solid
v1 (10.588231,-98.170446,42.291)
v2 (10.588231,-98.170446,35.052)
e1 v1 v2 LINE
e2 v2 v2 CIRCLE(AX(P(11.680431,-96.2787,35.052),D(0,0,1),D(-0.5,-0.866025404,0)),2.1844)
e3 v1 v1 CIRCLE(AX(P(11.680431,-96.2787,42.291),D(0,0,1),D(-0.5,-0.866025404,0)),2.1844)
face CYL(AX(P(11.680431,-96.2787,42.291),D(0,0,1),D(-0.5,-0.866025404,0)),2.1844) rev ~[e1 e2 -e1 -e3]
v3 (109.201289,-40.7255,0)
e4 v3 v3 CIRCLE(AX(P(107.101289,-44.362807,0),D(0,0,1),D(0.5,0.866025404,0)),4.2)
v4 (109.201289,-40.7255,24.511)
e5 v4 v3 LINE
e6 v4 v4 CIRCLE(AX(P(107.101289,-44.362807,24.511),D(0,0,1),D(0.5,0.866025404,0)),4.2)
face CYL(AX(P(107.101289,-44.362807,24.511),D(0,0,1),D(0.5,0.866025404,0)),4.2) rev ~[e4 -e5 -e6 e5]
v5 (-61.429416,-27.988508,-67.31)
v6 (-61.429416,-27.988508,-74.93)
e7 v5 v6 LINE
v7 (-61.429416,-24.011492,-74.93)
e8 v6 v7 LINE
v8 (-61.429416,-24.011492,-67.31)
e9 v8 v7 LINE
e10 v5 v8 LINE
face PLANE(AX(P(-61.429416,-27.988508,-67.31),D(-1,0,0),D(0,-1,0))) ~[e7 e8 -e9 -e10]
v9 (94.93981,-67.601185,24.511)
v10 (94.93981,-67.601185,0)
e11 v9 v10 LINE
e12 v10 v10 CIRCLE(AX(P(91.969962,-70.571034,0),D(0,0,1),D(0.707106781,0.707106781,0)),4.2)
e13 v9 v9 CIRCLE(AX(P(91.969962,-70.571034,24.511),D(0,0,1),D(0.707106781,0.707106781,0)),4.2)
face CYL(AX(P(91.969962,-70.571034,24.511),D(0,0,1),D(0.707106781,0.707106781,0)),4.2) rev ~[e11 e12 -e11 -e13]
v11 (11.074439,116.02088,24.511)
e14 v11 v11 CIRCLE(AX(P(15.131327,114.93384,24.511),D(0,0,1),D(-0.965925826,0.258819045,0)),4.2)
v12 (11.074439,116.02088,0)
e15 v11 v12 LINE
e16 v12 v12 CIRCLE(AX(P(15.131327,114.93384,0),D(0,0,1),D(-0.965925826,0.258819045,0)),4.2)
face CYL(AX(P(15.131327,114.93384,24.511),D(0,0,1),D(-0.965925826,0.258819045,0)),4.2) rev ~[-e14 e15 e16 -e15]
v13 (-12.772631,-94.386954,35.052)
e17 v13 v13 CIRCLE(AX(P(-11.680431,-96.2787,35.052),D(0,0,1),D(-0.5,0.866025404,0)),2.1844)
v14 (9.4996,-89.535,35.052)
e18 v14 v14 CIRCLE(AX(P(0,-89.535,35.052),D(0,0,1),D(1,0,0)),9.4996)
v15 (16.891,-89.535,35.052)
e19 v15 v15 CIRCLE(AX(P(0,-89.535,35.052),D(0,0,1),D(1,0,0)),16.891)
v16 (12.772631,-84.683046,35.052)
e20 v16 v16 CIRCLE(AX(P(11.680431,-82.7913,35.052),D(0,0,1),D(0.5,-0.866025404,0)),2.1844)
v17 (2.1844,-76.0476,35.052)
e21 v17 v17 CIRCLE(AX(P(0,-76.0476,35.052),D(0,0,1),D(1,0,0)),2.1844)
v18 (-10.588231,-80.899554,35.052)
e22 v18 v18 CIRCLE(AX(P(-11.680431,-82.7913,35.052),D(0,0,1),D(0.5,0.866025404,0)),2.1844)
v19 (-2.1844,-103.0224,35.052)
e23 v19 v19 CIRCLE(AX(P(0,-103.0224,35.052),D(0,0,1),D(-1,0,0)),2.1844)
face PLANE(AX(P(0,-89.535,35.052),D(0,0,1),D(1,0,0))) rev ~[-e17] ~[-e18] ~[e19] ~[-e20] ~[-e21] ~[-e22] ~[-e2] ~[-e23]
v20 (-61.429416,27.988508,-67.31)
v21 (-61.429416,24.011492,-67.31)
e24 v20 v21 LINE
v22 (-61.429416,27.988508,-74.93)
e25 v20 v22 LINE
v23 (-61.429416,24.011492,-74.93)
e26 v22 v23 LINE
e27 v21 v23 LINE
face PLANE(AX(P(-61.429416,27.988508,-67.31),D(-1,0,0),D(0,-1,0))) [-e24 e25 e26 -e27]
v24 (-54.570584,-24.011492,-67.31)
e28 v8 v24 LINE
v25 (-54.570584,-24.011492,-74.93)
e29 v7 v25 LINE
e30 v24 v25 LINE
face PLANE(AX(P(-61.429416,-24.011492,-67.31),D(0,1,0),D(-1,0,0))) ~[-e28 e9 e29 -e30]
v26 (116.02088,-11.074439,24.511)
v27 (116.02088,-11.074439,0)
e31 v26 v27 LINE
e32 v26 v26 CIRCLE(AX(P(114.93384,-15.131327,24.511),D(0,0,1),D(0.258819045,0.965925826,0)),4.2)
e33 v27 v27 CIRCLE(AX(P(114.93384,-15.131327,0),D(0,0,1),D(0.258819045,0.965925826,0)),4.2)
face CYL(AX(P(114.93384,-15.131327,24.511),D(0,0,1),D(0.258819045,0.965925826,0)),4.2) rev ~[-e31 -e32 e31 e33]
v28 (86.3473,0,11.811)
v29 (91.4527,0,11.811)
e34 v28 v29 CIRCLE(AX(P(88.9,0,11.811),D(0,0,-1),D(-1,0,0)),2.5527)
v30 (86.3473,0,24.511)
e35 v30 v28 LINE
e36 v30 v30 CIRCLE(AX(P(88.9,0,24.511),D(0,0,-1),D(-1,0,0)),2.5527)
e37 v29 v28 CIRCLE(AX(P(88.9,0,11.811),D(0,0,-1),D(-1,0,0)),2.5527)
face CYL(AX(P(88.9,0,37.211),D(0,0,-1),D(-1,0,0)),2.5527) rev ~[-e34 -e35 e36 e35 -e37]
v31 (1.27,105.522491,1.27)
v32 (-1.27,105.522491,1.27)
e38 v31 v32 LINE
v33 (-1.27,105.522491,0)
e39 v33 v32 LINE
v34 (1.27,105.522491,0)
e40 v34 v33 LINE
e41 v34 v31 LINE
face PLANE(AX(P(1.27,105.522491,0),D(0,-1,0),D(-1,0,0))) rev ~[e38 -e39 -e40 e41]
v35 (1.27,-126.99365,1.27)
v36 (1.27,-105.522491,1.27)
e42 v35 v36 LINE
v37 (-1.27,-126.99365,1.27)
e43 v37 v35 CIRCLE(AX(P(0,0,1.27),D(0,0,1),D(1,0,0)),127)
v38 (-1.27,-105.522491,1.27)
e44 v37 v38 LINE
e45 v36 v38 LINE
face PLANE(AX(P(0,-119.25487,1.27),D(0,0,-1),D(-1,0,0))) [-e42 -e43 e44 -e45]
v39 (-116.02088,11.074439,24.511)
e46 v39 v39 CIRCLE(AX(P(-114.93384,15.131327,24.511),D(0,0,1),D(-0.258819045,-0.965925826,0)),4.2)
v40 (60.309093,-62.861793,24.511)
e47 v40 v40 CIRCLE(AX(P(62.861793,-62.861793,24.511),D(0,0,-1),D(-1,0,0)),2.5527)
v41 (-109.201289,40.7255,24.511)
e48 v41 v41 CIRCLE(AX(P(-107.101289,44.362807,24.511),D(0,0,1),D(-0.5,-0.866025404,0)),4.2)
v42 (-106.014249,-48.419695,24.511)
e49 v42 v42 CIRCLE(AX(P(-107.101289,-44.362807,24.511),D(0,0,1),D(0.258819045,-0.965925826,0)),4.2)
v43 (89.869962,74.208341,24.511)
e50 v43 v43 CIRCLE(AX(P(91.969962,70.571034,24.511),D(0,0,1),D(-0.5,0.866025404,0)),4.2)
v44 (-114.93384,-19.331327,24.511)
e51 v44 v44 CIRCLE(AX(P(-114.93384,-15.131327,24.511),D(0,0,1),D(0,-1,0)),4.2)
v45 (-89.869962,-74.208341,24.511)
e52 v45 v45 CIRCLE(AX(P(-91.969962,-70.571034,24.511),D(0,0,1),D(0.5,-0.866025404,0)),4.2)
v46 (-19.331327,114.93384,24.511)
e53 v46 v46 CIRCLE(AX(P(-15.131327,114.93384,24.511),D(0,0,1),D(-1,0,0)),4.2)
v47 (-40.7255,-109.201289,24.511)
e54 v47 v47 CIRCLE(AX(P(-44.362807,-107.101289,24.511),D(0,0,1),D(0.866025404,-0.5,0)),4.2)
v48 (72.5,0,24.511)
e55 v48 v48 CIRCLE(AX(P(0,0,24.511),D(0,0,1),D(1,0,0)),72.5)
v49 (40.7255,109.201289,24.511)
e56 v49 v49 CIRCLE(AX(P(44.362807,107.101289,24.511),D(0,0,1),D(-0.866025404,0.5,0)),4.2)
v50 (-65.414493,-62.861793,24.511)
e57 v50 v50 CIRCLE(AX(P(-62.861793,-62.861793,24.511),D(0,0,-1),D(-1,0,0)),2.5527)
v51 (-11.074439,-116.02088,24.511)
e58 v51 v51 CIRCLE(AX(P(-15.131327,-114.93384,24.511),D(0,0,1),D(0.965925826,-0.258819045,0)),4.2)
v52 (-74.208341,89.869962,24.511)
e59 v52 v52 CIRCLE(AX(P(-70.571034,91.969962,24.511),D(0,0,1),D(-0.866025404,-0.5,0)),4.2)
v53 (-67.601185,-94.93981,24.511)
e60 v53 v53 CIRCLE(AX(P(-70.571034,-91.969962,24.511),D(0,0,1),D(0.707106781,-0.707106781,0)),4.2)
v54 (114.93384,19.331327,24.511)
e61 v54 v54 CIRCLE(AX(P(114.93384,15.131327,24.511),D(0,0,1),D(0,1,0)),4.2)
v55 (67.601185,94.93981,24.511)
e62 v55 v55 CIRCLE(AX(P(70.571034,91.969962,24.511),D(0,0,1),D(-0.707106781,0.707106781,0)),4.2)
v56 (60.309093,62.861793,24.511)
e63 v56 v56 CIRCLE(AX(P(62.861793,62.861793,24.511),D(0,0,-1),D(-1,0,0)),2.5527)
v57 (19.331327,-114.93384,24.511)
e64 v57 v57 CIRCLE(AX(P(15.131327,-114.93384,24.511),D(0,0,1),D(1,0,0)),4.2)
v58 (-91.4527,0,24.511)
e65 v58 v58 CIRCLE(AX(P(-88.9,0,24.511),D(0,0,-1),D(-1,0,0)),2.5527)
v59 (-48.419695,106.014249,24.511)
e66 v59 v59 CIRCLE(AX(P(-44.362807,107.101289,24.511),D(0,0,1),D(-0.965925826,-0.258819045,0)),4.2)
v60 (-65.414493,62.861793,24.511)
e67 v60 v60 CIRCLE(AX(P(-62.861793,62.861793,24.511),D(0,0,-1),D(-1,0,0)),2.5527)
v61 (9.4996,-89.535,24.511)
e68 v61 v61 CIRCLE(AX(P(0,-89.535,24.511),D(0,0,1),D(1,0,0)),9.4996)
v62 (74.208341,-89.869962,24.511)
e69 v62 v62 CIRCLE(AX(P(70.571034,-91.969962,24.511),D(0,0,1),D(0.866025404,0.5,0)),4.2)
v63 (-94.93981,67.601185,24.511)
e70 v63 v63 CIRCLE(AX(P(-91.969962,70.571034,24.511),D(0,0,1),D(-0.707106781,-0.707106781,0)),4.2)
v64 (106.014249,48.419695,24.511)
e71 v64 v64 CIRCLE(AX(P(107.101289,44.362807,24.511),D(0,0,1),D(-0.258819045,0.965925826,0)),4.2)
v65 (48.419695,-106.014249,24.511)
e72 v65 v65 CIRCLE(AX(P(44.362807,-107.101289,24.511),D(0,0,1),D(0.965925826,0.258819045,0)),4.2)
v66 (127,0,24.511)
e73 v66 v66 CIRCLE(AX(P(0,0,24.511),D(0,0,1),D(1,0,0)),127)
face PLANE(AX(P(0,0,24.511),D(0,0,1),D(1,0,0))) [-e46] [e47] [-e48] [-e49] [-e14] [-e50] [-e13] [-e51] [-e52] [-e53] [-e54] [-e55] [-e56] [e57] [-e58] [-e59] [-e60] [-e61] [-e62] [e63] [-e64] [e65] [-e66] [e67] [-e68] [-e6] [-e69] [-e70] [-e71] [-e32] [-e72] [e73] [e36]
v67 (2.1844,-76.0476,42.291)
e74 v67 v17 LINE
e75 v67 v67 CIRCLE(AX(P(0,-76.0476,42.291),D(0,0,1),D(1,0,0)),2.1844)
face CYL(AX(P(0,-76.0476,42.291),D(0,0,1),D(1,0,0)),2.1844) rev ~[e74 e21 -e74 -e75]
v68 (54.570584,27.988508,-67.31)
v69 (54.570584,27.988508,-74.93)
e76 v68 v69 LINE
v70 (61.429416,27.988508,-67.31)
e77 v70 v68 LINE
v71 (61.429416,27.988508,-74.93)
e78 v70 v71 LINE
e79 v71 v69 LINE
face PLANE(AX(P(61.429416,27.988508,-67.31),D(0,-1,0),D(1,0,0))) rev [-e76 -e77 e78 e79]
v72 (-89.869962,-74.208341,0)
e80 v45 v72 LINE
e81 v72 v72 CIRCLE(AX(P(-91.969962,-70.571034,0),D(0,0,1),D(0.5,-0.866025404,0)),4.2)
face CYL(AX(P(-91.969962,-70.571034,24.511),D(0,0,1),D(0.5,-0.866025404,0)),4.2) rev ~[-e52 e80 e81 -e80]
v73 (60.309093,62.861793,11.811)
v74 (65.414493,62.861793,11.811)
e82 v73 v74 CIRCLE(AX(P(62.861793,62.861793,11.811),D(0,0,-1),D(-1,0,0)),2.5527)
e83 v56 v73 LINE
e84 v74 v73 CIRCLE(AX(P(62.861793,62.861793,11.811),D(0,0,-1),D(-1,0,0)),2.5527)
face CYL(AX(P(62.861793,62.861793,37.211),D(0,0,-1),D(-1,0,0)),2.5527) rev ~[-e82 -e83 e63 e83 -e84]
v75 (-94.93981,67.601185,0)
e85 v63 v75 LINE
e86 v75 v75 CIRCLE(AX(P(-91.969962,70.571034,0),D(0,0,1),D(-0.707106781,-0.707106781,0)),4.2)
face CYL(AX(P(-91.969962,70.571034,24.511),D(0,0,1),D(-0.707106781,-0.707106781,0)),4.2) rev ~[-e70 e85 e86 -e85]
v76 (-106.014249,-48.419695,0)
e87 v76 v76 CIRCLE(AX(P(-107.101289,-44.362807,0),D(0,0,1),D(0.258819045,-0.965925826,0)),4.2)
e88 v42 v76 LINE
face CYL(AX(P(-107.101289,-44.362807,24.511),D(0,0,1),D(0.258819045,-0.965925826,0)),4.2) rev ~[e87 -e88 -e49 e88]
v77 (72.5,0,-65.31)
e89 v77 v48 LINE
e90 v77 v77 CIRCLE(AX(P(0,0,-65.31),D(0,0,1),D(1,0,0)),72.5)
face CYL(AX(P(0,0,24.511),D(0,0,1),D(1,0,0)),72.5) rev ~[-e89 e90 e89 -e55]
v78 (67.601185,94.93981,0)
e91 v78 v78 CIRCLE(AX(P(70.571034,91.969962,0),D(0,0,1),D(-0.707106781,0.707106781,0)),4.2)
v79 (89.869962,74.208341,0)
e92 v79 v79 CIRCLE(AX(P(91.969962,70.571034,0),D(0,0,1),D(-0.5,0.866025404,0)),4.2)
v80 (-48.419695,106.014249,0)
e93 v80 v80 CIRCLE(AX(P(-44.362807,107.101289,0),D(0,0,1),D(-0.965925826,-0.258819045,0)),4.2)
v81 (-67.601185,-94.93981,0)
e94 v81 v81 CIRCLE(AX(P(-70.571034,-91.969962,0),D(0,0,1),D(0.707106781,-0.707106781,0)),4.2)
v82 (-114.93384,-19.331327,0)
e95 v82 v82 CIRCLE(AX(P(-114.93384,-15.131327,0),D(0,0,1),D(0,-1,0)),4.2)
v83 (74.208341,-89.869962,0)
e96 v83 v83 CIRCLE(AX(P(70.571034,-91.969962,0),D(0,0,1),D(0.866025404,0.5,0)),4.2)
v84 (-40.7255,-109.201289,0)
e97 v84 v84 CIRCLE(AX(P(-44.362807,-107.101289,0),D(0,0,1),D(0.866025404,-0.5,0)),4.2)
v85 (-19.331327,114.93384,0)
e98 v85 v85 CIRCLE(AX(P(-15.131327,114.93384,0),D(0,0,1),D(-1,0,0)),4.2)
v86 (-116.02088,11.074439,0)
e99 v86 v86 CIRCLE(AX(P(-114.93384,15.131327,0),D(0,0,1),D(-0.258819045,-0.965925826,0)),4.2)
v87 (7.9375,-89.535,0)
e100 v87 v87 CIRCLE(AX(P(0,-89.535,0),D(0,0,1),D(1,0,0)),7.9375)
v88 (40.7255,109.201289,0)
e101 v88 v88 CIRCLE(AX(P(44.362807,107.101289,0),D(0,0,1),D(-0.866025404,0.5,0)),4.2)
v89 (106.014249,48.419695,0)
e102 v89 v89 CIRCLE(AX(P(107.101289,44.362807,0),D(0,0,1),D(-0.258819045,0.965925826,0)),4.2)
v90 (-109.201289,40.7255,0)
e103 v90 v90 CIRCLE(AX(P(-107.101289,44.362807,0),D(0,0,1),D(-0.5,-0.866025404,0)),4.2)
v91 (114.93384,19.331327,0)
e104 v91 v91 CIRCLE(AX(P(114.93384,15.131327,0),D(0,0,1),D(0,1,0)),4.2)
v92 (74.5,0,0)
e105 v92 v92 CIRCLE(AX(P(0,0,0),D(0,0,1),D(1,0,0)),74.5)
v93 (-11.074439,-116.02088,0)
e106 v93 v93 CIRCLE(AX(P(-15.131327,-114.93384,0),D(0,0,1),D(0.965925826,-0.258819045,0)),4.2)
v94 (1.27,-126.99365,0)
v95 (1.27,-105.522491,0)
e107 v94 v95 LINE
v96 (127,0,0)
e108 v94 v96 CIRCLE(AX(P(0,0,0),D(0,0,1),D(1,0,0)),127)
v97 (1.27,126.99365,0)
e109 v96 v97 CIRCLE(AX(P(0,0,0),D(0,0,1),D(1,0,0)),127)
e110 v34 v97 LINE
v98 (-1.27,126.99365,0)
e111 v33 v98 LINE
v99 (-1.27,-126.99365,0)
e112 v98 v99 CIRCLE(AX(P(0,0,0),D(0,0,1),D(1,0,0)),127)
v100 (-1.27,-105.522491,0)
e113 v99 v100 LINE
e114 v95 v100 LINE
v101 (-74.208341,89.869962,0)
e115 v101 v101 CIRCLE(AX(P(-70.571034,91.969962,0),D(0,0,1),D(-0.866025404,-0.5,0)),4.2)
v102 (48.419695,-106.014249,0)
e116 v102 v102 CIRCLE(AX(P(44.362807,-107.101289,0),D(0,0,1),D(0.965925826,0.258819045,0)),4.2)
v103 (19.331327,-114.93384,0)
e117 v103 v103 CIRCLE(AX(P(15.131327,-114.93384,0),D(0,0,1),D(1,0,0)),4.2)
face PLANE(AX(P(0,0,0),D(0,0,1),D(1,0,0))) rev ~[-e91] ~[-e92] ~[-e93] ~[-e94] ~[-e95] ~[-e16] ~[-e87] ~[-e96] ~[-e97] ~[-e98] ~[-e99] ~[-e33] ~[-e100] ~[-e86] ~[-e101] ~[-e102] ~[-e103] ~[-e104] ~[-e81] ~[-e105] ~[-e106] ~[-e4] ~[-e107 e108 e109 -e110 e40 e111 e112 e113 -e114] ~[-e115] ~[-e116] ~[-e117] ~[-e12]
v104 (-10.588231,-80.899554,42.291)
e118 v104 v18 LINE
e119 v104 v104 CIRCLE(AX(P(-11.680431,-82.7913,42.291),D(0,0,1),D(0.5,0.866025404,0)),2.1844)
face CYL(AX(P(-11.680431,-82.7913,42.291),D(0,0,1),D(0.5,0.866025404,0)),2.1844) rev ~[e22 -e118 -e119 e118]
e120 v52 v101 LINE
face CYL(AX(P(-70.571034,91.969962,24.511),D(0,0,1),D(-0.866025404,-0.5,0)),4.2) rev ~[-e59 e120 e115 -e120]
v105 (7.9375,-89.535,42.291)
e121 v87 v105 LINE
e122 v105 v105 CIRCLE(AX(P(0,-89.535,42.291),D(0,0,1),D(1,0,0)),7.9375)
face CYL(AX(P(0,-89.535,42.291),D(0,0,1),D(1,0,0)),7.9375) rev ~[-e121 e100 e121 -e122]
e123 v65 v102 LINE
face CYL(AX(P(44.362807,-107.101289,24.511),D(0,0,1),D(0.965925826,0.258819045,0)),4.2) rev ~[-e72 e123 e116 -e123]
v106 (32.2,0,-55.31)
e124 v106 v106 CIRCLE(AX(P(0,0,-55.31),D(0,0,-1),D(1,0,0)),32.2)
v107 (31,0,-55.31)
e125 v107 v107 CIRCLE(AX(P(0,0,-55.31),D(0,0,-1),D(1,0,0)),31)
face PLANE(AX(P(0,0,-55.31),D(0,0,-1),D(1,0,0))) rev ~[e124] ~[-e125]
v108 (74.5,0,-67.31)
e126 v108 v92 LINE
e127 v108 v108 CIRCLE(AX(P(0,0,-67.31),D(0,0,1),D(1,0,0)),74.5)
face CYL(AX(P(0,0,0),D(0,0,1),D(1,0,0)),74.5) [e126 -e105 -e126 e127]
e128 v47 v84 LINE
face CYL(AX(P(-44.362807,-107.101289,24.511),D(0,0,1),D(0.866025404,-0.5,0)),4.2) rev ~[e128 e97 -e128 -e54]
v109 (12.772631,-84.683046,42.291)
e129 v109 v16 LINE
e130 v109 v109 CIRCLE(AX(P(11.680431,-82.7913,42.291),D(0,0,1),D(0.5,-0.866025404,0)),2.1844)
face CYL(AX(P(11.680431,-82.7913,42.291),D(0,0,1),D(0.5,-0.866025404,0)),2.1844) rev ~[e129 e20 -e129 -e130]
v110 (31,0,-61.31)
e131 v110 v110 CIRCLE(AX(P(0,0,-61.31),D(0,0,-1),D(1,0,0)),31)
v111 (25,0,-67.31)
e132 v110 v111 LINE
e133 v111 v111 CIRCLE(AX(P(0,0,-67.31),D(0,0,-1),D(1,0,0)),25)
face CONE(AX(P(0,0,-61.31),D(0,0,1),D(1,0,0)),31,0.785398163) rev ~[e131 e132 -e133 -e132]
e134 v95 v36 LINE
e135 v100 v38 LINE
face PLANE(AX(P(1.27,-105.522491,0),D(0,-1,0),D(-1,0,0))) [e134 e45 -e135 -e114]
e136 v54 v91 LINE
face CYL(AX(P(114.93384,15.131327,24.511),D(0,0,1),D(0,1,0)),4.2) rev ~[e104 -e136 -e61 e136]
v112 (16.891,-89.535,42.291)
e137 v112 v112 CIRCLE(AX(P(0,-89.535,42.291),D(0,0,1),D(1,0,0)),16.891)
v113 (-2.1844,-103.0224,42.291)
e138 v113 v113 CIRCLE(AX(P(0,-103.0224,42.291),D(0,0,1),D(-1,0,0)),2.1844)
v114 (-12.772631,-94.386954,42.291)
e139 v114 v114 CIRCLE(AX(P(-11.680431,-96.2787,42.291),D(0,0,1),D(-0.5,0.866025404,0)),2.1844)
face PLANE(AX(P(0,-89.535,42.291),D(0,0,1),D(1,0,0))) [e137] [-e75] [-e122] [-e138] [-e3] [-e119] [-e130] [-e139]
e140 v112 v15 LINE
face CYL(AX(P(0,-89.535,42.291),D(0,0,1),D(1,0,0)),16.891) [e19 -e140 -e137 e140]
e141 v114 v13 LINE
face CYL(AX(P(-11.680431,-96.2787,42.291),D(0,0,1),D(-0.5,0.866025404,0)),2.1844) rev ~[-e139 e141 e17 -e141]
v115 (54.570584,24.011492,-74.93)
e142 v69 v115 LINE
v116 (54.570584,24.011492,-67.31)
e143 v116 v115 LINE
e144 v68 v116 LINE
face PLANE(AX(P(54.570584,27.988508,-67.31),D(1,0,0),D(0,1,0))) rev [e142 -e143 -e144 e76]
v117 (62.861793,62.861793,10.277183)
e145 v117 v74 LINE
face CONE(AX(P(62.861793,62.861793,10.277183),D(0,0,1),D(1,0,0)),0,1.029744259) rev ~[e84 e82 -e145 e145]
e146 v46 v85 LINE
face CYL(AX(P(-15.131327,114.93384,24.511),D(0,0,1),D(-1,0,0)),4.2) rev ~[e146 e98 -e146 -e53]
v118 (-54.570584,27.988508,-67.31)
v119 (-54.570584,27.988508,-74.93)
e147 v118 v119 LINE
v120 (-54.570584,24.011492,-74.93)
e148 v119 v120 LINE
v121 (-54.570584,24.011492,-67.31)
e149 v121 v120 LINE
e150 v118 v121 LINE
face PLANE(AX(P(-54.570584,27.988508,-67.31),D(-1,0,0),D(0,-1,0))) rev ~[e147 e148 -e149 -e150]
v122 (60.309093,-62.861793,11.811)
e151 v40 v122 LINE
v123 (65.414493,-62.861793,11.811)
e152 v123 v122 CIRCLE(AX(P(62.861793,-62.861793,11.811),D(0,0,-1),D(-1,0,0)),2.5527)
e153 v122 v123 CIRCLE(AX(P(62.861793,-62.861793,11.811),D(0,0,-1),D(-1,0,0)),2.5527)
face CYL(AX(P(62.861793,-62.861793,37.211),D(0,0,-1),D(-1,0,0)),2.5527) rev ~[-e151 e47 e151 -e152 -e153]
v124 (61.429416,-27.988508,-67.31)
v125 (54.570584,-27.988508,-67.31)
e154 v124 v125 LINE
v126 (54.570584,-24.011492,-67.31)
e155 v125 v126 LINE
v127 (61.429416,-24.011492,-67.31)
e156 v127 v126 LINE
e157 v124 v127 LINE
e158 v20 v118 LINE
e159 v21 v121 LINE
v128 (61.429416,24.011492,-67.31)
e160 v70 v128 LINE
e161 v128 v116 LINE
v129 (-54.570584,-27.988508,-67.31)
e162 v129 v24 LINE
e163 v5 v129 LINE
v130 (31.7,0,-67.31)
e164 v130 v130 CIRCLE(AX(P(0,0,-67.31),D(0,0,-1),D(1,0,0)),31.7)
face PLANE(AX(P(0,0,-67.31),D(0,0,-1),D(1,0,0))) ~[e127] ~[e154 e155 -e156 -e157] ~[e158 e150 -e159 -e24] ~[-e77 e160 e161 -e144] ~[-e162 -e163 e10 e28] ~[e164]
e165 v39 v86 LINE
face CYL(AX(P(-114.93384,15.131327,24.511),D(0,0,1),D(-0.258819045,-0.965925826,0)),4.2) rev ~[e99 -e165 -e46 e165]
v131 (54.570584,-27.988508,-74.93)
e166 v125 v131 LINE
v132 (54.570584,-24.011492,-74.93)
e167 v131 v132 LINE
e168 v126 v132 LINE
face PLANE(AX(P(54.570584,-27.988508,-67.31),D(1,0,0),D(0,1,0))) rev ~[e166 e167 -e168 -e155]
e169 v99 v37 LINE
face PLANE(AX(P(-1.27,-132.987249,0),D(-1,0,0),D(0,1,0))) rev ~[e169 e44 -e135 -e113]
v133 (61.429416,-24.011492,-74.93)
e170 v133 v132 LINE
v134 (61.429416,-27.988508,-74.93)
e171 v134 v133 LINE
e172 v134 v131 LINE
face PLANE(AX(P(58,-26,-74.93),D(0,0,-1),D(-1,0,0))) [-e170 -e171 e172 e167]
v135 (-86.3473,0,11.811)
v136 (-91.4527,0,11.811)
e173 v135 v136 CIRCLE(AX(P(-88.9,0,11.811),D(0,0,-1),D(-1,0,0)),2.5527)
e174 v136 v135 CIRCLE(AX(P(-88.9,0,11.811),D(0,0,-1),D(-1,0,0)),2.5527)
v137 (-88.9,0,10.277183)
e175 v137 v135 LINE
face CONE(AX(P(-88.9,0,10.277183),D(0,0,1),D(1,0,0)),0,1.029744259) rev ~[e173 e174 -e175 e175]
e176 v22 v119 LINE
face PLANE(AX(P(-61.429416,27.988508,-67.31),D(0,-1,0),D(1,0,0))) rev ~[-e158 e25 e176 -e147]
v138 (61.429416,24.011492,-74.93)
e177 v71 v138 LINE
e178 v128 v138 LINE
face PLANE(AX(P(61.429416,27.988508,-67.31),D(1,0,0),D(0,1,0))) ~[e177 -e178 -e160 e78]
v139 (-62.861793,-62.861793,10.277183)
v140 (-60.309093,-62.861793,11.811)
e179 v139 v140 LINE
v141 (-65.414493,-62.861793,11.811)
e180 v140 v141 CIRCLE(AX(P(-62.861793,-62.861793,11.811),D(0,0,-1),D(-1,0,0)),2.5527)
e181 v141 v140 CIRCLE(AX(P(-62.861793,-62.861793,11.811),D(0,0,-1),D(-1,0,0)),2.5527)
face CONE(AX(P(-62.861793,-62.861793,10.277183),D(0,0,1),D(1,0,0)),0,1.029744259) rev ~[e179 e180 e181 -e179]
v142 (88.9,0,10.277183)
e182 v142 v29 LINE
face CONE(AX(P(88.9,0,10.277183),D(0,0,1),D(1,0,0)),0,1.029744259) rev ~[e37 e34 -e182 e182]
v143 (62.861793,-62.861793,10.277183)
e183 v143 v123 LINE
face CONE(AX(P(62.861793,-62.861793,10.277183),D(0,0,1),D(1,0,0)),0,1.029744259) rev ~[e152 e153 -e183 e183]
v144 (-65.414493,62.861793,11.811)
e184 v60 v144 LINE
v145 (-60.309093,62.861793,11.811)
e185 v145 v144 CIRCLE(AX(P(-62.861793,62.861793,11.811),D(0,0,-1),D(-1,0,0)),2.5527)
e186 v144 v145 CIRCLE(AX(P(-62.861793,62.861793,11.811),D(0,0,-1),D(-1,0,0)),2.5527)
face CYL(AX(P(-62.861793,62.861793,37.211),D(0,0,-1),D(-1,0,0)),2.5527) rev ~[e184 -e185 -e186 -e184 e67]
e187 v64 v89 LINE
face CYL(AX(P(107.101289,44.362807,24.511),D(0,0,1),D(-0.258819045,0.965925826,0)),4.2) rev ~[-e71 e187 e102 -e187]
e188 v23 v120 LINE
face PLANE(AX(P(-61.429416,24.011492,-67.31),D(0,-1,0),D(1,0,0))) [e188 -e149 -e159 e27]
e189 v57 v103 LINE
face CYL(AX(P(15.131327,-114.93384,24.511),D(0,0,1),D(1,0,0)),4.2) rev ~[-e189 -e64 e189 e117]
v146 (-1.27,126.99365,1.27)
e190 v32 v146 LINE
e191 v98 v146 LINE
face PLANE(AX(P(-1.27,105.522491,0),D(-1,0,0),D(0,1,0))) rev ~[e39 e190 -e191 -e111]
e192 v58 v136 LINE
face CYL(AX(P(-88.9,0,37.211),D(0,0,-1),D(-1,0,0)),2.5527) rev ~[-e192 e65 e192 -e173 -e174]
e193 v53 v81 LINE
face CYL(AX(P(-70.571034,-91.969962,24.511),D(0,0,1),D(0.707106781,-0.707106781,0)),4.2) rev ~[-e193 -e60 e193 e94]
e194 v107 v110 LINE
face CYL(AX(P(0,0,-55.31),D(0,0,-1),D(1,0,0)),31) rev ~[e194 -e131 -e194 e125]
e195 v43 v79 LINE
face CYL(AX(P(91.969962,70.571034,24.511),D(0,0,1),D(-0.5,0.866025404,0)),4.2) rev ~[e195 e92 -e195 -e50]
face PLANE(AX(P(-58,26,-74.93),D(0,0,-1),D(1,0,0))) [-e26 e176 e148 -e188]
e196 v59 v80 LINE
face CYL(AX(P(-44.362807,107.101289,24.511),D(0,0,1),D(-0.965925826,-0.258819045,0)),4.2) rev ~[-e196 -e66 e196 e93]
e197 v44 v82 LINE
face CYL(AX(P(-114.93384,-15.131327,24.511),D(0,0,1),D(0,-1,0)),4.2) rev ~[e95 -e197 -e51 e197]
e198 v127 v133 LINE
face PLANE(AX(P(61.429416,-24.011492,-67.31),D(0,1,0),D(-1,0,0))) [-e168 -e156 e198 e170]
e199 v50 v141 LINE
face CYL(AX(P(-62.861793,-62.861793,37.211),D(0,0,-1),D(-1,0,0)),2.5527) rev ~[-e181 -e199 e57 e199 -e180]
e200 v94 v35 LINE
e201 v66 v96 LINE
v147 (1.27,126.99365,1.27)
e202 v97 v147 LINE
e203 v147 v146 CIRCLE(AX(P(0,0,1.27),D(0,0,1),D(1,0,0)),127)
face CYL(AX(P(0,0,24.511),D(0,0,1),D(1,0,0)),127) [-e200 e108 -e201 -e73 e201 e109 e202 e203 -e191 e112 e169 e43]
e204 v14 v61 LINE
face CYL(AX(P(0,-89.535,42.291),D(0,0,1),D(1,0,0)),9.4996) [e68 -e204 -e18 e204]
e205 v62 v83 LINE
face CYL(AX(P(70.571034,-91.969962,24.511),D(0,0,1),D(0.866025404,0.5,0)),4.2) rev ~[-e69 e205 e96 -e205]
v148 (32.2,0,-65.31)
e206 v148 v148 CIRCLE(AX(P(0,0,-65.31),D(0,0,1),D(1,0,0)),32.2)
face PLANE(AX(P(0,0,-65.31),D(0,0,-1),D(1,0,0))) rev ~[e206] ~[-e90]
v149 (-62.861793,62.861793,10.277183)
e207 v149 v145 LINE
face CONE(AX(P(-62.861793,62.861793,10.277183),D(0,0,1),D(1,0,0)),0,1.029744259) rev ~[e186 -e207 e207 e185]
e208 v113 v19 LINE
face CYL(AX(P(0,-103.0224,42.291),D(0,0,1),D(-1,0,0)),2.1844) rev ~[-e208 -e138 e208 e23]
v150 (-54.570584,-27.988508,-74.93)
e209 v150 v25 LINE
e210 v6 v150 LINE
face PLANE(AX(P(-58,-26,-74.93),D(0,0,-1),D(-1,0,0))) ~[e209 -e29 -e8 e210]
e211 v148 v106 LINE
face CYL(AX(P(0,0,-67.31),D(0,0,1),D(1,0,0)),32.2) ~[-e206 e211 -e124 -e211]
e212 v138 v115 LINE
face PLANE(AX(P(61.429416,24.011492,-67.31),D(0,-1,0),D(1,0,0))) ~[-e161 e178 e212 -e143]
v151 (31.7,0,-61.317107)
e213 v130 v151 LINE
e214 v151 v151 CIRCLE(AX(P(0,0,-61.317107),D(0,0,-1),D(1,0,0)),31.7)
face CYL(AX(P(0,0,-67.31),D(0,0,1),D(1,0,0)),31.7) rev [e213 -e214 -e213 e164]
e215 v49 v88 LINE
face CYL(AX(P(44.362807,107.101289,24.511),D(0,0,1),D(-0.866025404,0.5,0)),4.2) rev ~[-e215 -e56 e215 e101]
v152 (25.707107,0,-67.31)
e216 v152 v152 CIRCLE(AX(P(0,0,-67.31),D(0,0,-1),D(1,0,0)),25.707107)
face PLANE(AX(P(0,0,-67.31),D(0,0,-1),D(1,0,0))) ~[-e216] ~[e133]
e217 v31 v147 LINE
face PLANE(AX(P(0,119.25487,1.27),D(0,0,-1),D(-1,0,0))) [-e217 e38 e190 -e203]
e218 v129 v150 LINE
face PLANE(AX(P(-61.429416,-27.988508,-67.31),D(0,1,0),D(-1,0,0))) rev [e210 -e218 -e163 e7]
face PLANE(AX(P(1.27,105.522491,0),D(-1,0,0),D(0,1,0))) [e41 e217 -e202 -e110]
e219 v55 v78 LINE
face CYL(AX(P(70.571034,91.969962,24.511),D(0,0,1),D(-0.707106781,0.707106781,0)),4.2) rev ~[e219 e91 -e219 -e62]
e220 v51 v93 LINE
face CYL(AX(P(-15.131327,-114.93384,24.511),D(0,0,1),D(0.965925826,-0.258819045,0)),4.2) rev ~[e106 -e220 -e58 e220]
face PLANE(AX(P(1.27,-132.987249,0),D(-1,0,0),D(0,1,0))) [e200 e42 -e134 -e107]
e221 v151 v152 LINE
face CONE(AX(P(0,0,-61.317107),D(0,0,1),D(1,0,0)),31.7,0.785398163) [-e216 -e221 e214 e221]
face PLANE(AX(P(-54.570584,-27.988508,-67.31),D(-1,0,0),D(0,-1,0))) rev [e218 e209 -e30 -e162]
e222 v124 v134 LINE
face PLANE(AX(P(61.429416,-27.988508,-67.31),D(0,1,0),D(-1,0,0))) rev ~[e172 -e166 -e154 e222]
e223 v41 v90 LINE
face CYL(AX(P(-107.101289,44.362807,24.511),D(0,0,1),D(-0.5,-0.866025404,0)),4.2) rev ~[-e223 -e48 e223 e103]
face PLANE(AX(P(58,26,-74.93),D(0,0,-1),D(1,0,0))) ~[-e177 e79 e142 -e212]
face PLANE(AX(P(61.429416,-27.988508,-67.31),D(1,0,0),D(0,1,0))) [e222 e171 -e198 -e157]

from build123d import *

# Parameters (mm, degrees)
SKETCH1_R                   = 74.5
SKETCH1_R_2                 = 72.5
EXTRUDE1_DEPTH              = 67.31
EXTRUDE2_START              = 24.511
SKETCH2_R                   = 127
SKETCH2_R_2                 = 72.5
EXTRUDE2_DEPTH              = 24.511
CUT_EXTRUDE1_REACH          = 203.715
SKETCH3_R                   = 4.2
CIRPATTERN1_COUNT           = 24
EXTRUDE3_START              = -2
SKETCH4_R                   = 74.5
SKETCH4_R_2                 = 32.2
EXTRUDE3_DEPTH              = 2
SKETCH13_R                  = 7.9375
EXTRUDE4_DEPTH              = 211.405273701
SKETCH14_R                  = 9.4996
SKETCH14_R_2                = 7.9375
EXTRUDE5_DEPTH              = 17.78
SKETCH15_R                  = 16.891
SKETCH15_R_2                = 7.9375
EXTRUDE6_DEPTH              = 7.239
SKETCH16_R                  = 2.1844
EXTRUDE7_DEPTH              = 7.239
CIRPATTERN2_COUNT           = 6
SKETCH17_W                  = 6.858832098
SKETCH17_H                  = 3.977015868
EXTRUDE8_DEPTH              = 7.62
MIRROR4_COPY_1_SKETCH_W     = 6.858832098
MIRROR4_COPY_1_SKETCH_H     = 3.977015868
MIRROR4_COPY_1_DEPTH        = 7.62
F_1_4_20_TAPPED_HOLE1_D     = 5.1054
F_1_4_20_TAPPED_HOLE1_DEPTH = 12.7
F_1_4_20_TAPPED_HOLE1_TIP   = 1.533816902
SKETCH21_W                  = 2.54
SKETCH21_H                  = 27.464757855
EXTRUDE9_DEPTH              = 1.27


with BuildPart() as part:
    # Sketch1 → Extrude1 (new body)
    with BuildSketch(Plane.XY):
        Circle(SKETCH1_R)
        Circle(SKETCH1_R_2, mode=Mode.SUBTRACT)
    extrude(amount=-EXTRUDE1_DEPTH)

    # Sketch2 → Extrude2 (add)
    with BuildSketch(Plane.XY.offset(EXTRUDE2_START)):
        Circle(SKETCH2_R)
        Circle(SKETCH2_R_2, mode=Mode.SUBTRACT)
    extrude(amount=-EXTRUDE2_DEPTH)

    # Sketch3 → Cut-Extrude1 (cut, up to next)
    with BuildSketch(Plane.XY.offset(24.511), mode=Mode.PRIVATE) as cut_extrude1_sk1:
        with Locations((15.131327149, -114.933840422)):
            Circle(SKETCH3_R)
    cut_extrude1_tool1 = extrude(cut_extrude1_sk1.sketch, amount=-CUT_EXTRUDE1_REACH, mode=Mode.PRIVATE) & part.part
    cut_extrude1 = cut_extrude1_tool1.solids().sort_by_distance((15.131327, -114.93384, 24.511))[0]
    add(cut_extrude1, mode=Mode.SUBTRACT)

    # CirPattern1: Cut-Extrude1 ×24 about axis
    cirpattern1_axis = Axis((0, 0, 0), (0, 0, 1))
    for i in range(1, CIRPATTERN1_COUNT):
        add(cut_extrude1.rotate(cirpattern1_axis, i * 360 / CIRPATTERN1_COUNT), mode=Mode.SUBTRACT)

    # Sketch4 → Extrude3 (add)
    with BuildSketch(Plane(origin=(0, 0, -67.31), x_dir=(-1, 0, 0), z_dir=(0, 0, -1)).offset(EXTRUDE3_START)):
        with Locations(Location((0, 0, 0), (0, 0, 180))):
            Circle(SKETCH4_R)
        Circle(SKETCH4_R_2, mode=Mode.SUBTRACT)
    extrude(amount=EXTRUDE3_DEPTH)

    # Sketch5 → Revolve1 (revolve)
    with BuildSketch(Plane(origin=(0, 0, 0), x_dir=(1, 0, 0), z_dir=(0, 1, 0)), mode=Mode.PRIVATE) as revolve1_sk:
        Polygon((-32.2, 67.31), (-32.2, 55.31), (-31, 55.31), (-31, 61.31), (-25, 67.31), align=None)
    revolve(revolve1_sk.sketch.rotate(Axis((0, 0, 0), (0, 0, -1)), 180), axis=Axis((0, 0, 0), (0, 0, -1)))

    # Sketch11 → Cut-Revolve1 (revolve, cut)
    with BuildSketch(Plane(origin=(0, 0, 0), x_dir=(1, 0, 0), z_dir=(0, 1, 0)), mode=Mode.PRIVATE) as cut_revolve1_sk:
        Polygon((-31.7, 67.31), (-31.7, 61.317106781), (-25.707106781, 67.31), align=None)
    revolve(cut_revolve1_sk.sketch.rotate(Axis((0, 0, 0), (0, 0, -1)), 180), axis=Axis((0, 0, 0), (0, 0, -1)), mode=Mode.SUBTRACT)

    # Sketch13 → Extrude4 (cut, through all)
    with BuildSketch(Plane.XY.offset(42.291)):
        with Locations((0, -89.535)):
            Circle(SKETCH13_R)
    extrude(amount=-EXTRUDE4_DEPTH, mode=Mode.SUBTRACT)

    # Sketch14 → Extrude5 (add)
    with BuildSketch(Plane.XY.offset(42.291)):
        with Locations((0, -89.535)):
            Circle(SKETCH14_R)
        with Locations((0, -89.535)):
            Circle(SKETCH14_R_2, mode=Mode.SUBTRACT)
    extrude(amount=-EXTRUDE5_DEPTH)

    # Sketch15 → Extrude6 (add)
    with BuildSketch(Plane.XY.offset(42.291)):
        with Locations((0, -89.535)):
            Circle(SKETCH15_R)
        with Locations((0, -89.535)):
            Circle(SKETCH15_R_2, mode=Mode.SUBTRACT)
    extrude(amount=-EXTRUDE6_DEPTH)

    # Sketch16 → Extrude7 (cut)
    with BuildSketch(Plane.XY.offset(42.291)):
        with Locations((0, -76.0476)):
            Circle(SKETCH16_R)
    extrude7 = extrude(amount=-EXTRUDE7_DEPTH, mode=Mode.SUBTRACT)

    # CirPattern2: Extrude7 ×6 about axis
    cirpattern2_axis = Axis((0, -89.535, 0), (0, 0, 1))
    for i in range(1, CIRPATTERN2_COUNT):
        add(extrude7.rotate(cirpattern2_axis, i * 360 / CIRPATTERN2_COUNT), mode=Mode.SUBTRACT)

    # Sketch17 → Extrude8 (add)
    with BuildSketch(Plane(origin=(0, 0, -67.31), x_dir=(-1, 0, 0), z_dir=(0, 0, -1))):
        with Locations((-58, -26)):
            Rectangle(SKETCH17_W, SKETCH17_H)
    extrude8 = extrude(amount=EXTRUDE8_DEPTH)

    # Mirror3: Extrude8 across plane
    add(extrude8.mirror(Plane.ZX))

    # Mirror4: Extrude8 across plane
    add(extrude8.mirror(Plane(origin=(0, 0, 0), x_dir=(0, 0, 1), z_dir=(1, 0, 0))))

    # Mirror4 copy 1 sketch → Mirror4 copy 1 (add)
    with BuildSketch(Plane(origin=(0, 0, -67.31), x_dir=(1, 0, 0), z_dir=(0, 0, -1))):
        with Locations((-58, -26)):
            Rectangle(MIRROR4_COPY_1_SKETCH_W, MIRROR4_COPY_1_SKETCH_H)
    extrude(amount=MIRROR4_COPY_1_DEPTH)

    # 1/4-20 Tapped Hole1
    with Locations(Plane(origin=(62.861792847, -62.861792847, 24.511), x_dir=(1, 0, 0), z_dir=(0, 0, 1))):
        with Locations((0, 0), (-125.723585694, 0), (-151.761792847, 62.861792847), (-125.723585694, 125.723585694), (0, 125.723585694), (26.038207153, 62.861792847)):
            Hole(F_1_4_20_TAPPED_HOLE1_D / 2, depth=F_1_4_20_TAPPED_HOLE1_DEPTH)
            with Locations((0, 0, -(F_1_4_20_TAPPED_HOLE1_DEPTH + F_1_4_20_TAPPED_HOLE1_TIP / 2))):  # 118° drill point
                Cone(0, F_1_4_20_TAPPED_HOLE1_D / 2, F_1_4_20_TAPPED_HOLE1_TIP, mode=Mode.SUBTRACT)

    # Sketch21 → Extrude9 (cut)
    with BuildSketch(Plane(origin=(0, 0, 0), x_dir=(-1, 0, 0), z_dir=(0, 0, -1))):
        with Locations((0, -119.254869633)):
            Rectangle(SKETCH21_W, SKETCH21_H)
        with Locations((0, 119.254869633)):
            Rectangle(SKETCH21_W, SKETCH21_H)
    extrude(amount=-EXTRUDE9_DEPTH, mode=Mode.SUBTRACT)


solid = part.part
